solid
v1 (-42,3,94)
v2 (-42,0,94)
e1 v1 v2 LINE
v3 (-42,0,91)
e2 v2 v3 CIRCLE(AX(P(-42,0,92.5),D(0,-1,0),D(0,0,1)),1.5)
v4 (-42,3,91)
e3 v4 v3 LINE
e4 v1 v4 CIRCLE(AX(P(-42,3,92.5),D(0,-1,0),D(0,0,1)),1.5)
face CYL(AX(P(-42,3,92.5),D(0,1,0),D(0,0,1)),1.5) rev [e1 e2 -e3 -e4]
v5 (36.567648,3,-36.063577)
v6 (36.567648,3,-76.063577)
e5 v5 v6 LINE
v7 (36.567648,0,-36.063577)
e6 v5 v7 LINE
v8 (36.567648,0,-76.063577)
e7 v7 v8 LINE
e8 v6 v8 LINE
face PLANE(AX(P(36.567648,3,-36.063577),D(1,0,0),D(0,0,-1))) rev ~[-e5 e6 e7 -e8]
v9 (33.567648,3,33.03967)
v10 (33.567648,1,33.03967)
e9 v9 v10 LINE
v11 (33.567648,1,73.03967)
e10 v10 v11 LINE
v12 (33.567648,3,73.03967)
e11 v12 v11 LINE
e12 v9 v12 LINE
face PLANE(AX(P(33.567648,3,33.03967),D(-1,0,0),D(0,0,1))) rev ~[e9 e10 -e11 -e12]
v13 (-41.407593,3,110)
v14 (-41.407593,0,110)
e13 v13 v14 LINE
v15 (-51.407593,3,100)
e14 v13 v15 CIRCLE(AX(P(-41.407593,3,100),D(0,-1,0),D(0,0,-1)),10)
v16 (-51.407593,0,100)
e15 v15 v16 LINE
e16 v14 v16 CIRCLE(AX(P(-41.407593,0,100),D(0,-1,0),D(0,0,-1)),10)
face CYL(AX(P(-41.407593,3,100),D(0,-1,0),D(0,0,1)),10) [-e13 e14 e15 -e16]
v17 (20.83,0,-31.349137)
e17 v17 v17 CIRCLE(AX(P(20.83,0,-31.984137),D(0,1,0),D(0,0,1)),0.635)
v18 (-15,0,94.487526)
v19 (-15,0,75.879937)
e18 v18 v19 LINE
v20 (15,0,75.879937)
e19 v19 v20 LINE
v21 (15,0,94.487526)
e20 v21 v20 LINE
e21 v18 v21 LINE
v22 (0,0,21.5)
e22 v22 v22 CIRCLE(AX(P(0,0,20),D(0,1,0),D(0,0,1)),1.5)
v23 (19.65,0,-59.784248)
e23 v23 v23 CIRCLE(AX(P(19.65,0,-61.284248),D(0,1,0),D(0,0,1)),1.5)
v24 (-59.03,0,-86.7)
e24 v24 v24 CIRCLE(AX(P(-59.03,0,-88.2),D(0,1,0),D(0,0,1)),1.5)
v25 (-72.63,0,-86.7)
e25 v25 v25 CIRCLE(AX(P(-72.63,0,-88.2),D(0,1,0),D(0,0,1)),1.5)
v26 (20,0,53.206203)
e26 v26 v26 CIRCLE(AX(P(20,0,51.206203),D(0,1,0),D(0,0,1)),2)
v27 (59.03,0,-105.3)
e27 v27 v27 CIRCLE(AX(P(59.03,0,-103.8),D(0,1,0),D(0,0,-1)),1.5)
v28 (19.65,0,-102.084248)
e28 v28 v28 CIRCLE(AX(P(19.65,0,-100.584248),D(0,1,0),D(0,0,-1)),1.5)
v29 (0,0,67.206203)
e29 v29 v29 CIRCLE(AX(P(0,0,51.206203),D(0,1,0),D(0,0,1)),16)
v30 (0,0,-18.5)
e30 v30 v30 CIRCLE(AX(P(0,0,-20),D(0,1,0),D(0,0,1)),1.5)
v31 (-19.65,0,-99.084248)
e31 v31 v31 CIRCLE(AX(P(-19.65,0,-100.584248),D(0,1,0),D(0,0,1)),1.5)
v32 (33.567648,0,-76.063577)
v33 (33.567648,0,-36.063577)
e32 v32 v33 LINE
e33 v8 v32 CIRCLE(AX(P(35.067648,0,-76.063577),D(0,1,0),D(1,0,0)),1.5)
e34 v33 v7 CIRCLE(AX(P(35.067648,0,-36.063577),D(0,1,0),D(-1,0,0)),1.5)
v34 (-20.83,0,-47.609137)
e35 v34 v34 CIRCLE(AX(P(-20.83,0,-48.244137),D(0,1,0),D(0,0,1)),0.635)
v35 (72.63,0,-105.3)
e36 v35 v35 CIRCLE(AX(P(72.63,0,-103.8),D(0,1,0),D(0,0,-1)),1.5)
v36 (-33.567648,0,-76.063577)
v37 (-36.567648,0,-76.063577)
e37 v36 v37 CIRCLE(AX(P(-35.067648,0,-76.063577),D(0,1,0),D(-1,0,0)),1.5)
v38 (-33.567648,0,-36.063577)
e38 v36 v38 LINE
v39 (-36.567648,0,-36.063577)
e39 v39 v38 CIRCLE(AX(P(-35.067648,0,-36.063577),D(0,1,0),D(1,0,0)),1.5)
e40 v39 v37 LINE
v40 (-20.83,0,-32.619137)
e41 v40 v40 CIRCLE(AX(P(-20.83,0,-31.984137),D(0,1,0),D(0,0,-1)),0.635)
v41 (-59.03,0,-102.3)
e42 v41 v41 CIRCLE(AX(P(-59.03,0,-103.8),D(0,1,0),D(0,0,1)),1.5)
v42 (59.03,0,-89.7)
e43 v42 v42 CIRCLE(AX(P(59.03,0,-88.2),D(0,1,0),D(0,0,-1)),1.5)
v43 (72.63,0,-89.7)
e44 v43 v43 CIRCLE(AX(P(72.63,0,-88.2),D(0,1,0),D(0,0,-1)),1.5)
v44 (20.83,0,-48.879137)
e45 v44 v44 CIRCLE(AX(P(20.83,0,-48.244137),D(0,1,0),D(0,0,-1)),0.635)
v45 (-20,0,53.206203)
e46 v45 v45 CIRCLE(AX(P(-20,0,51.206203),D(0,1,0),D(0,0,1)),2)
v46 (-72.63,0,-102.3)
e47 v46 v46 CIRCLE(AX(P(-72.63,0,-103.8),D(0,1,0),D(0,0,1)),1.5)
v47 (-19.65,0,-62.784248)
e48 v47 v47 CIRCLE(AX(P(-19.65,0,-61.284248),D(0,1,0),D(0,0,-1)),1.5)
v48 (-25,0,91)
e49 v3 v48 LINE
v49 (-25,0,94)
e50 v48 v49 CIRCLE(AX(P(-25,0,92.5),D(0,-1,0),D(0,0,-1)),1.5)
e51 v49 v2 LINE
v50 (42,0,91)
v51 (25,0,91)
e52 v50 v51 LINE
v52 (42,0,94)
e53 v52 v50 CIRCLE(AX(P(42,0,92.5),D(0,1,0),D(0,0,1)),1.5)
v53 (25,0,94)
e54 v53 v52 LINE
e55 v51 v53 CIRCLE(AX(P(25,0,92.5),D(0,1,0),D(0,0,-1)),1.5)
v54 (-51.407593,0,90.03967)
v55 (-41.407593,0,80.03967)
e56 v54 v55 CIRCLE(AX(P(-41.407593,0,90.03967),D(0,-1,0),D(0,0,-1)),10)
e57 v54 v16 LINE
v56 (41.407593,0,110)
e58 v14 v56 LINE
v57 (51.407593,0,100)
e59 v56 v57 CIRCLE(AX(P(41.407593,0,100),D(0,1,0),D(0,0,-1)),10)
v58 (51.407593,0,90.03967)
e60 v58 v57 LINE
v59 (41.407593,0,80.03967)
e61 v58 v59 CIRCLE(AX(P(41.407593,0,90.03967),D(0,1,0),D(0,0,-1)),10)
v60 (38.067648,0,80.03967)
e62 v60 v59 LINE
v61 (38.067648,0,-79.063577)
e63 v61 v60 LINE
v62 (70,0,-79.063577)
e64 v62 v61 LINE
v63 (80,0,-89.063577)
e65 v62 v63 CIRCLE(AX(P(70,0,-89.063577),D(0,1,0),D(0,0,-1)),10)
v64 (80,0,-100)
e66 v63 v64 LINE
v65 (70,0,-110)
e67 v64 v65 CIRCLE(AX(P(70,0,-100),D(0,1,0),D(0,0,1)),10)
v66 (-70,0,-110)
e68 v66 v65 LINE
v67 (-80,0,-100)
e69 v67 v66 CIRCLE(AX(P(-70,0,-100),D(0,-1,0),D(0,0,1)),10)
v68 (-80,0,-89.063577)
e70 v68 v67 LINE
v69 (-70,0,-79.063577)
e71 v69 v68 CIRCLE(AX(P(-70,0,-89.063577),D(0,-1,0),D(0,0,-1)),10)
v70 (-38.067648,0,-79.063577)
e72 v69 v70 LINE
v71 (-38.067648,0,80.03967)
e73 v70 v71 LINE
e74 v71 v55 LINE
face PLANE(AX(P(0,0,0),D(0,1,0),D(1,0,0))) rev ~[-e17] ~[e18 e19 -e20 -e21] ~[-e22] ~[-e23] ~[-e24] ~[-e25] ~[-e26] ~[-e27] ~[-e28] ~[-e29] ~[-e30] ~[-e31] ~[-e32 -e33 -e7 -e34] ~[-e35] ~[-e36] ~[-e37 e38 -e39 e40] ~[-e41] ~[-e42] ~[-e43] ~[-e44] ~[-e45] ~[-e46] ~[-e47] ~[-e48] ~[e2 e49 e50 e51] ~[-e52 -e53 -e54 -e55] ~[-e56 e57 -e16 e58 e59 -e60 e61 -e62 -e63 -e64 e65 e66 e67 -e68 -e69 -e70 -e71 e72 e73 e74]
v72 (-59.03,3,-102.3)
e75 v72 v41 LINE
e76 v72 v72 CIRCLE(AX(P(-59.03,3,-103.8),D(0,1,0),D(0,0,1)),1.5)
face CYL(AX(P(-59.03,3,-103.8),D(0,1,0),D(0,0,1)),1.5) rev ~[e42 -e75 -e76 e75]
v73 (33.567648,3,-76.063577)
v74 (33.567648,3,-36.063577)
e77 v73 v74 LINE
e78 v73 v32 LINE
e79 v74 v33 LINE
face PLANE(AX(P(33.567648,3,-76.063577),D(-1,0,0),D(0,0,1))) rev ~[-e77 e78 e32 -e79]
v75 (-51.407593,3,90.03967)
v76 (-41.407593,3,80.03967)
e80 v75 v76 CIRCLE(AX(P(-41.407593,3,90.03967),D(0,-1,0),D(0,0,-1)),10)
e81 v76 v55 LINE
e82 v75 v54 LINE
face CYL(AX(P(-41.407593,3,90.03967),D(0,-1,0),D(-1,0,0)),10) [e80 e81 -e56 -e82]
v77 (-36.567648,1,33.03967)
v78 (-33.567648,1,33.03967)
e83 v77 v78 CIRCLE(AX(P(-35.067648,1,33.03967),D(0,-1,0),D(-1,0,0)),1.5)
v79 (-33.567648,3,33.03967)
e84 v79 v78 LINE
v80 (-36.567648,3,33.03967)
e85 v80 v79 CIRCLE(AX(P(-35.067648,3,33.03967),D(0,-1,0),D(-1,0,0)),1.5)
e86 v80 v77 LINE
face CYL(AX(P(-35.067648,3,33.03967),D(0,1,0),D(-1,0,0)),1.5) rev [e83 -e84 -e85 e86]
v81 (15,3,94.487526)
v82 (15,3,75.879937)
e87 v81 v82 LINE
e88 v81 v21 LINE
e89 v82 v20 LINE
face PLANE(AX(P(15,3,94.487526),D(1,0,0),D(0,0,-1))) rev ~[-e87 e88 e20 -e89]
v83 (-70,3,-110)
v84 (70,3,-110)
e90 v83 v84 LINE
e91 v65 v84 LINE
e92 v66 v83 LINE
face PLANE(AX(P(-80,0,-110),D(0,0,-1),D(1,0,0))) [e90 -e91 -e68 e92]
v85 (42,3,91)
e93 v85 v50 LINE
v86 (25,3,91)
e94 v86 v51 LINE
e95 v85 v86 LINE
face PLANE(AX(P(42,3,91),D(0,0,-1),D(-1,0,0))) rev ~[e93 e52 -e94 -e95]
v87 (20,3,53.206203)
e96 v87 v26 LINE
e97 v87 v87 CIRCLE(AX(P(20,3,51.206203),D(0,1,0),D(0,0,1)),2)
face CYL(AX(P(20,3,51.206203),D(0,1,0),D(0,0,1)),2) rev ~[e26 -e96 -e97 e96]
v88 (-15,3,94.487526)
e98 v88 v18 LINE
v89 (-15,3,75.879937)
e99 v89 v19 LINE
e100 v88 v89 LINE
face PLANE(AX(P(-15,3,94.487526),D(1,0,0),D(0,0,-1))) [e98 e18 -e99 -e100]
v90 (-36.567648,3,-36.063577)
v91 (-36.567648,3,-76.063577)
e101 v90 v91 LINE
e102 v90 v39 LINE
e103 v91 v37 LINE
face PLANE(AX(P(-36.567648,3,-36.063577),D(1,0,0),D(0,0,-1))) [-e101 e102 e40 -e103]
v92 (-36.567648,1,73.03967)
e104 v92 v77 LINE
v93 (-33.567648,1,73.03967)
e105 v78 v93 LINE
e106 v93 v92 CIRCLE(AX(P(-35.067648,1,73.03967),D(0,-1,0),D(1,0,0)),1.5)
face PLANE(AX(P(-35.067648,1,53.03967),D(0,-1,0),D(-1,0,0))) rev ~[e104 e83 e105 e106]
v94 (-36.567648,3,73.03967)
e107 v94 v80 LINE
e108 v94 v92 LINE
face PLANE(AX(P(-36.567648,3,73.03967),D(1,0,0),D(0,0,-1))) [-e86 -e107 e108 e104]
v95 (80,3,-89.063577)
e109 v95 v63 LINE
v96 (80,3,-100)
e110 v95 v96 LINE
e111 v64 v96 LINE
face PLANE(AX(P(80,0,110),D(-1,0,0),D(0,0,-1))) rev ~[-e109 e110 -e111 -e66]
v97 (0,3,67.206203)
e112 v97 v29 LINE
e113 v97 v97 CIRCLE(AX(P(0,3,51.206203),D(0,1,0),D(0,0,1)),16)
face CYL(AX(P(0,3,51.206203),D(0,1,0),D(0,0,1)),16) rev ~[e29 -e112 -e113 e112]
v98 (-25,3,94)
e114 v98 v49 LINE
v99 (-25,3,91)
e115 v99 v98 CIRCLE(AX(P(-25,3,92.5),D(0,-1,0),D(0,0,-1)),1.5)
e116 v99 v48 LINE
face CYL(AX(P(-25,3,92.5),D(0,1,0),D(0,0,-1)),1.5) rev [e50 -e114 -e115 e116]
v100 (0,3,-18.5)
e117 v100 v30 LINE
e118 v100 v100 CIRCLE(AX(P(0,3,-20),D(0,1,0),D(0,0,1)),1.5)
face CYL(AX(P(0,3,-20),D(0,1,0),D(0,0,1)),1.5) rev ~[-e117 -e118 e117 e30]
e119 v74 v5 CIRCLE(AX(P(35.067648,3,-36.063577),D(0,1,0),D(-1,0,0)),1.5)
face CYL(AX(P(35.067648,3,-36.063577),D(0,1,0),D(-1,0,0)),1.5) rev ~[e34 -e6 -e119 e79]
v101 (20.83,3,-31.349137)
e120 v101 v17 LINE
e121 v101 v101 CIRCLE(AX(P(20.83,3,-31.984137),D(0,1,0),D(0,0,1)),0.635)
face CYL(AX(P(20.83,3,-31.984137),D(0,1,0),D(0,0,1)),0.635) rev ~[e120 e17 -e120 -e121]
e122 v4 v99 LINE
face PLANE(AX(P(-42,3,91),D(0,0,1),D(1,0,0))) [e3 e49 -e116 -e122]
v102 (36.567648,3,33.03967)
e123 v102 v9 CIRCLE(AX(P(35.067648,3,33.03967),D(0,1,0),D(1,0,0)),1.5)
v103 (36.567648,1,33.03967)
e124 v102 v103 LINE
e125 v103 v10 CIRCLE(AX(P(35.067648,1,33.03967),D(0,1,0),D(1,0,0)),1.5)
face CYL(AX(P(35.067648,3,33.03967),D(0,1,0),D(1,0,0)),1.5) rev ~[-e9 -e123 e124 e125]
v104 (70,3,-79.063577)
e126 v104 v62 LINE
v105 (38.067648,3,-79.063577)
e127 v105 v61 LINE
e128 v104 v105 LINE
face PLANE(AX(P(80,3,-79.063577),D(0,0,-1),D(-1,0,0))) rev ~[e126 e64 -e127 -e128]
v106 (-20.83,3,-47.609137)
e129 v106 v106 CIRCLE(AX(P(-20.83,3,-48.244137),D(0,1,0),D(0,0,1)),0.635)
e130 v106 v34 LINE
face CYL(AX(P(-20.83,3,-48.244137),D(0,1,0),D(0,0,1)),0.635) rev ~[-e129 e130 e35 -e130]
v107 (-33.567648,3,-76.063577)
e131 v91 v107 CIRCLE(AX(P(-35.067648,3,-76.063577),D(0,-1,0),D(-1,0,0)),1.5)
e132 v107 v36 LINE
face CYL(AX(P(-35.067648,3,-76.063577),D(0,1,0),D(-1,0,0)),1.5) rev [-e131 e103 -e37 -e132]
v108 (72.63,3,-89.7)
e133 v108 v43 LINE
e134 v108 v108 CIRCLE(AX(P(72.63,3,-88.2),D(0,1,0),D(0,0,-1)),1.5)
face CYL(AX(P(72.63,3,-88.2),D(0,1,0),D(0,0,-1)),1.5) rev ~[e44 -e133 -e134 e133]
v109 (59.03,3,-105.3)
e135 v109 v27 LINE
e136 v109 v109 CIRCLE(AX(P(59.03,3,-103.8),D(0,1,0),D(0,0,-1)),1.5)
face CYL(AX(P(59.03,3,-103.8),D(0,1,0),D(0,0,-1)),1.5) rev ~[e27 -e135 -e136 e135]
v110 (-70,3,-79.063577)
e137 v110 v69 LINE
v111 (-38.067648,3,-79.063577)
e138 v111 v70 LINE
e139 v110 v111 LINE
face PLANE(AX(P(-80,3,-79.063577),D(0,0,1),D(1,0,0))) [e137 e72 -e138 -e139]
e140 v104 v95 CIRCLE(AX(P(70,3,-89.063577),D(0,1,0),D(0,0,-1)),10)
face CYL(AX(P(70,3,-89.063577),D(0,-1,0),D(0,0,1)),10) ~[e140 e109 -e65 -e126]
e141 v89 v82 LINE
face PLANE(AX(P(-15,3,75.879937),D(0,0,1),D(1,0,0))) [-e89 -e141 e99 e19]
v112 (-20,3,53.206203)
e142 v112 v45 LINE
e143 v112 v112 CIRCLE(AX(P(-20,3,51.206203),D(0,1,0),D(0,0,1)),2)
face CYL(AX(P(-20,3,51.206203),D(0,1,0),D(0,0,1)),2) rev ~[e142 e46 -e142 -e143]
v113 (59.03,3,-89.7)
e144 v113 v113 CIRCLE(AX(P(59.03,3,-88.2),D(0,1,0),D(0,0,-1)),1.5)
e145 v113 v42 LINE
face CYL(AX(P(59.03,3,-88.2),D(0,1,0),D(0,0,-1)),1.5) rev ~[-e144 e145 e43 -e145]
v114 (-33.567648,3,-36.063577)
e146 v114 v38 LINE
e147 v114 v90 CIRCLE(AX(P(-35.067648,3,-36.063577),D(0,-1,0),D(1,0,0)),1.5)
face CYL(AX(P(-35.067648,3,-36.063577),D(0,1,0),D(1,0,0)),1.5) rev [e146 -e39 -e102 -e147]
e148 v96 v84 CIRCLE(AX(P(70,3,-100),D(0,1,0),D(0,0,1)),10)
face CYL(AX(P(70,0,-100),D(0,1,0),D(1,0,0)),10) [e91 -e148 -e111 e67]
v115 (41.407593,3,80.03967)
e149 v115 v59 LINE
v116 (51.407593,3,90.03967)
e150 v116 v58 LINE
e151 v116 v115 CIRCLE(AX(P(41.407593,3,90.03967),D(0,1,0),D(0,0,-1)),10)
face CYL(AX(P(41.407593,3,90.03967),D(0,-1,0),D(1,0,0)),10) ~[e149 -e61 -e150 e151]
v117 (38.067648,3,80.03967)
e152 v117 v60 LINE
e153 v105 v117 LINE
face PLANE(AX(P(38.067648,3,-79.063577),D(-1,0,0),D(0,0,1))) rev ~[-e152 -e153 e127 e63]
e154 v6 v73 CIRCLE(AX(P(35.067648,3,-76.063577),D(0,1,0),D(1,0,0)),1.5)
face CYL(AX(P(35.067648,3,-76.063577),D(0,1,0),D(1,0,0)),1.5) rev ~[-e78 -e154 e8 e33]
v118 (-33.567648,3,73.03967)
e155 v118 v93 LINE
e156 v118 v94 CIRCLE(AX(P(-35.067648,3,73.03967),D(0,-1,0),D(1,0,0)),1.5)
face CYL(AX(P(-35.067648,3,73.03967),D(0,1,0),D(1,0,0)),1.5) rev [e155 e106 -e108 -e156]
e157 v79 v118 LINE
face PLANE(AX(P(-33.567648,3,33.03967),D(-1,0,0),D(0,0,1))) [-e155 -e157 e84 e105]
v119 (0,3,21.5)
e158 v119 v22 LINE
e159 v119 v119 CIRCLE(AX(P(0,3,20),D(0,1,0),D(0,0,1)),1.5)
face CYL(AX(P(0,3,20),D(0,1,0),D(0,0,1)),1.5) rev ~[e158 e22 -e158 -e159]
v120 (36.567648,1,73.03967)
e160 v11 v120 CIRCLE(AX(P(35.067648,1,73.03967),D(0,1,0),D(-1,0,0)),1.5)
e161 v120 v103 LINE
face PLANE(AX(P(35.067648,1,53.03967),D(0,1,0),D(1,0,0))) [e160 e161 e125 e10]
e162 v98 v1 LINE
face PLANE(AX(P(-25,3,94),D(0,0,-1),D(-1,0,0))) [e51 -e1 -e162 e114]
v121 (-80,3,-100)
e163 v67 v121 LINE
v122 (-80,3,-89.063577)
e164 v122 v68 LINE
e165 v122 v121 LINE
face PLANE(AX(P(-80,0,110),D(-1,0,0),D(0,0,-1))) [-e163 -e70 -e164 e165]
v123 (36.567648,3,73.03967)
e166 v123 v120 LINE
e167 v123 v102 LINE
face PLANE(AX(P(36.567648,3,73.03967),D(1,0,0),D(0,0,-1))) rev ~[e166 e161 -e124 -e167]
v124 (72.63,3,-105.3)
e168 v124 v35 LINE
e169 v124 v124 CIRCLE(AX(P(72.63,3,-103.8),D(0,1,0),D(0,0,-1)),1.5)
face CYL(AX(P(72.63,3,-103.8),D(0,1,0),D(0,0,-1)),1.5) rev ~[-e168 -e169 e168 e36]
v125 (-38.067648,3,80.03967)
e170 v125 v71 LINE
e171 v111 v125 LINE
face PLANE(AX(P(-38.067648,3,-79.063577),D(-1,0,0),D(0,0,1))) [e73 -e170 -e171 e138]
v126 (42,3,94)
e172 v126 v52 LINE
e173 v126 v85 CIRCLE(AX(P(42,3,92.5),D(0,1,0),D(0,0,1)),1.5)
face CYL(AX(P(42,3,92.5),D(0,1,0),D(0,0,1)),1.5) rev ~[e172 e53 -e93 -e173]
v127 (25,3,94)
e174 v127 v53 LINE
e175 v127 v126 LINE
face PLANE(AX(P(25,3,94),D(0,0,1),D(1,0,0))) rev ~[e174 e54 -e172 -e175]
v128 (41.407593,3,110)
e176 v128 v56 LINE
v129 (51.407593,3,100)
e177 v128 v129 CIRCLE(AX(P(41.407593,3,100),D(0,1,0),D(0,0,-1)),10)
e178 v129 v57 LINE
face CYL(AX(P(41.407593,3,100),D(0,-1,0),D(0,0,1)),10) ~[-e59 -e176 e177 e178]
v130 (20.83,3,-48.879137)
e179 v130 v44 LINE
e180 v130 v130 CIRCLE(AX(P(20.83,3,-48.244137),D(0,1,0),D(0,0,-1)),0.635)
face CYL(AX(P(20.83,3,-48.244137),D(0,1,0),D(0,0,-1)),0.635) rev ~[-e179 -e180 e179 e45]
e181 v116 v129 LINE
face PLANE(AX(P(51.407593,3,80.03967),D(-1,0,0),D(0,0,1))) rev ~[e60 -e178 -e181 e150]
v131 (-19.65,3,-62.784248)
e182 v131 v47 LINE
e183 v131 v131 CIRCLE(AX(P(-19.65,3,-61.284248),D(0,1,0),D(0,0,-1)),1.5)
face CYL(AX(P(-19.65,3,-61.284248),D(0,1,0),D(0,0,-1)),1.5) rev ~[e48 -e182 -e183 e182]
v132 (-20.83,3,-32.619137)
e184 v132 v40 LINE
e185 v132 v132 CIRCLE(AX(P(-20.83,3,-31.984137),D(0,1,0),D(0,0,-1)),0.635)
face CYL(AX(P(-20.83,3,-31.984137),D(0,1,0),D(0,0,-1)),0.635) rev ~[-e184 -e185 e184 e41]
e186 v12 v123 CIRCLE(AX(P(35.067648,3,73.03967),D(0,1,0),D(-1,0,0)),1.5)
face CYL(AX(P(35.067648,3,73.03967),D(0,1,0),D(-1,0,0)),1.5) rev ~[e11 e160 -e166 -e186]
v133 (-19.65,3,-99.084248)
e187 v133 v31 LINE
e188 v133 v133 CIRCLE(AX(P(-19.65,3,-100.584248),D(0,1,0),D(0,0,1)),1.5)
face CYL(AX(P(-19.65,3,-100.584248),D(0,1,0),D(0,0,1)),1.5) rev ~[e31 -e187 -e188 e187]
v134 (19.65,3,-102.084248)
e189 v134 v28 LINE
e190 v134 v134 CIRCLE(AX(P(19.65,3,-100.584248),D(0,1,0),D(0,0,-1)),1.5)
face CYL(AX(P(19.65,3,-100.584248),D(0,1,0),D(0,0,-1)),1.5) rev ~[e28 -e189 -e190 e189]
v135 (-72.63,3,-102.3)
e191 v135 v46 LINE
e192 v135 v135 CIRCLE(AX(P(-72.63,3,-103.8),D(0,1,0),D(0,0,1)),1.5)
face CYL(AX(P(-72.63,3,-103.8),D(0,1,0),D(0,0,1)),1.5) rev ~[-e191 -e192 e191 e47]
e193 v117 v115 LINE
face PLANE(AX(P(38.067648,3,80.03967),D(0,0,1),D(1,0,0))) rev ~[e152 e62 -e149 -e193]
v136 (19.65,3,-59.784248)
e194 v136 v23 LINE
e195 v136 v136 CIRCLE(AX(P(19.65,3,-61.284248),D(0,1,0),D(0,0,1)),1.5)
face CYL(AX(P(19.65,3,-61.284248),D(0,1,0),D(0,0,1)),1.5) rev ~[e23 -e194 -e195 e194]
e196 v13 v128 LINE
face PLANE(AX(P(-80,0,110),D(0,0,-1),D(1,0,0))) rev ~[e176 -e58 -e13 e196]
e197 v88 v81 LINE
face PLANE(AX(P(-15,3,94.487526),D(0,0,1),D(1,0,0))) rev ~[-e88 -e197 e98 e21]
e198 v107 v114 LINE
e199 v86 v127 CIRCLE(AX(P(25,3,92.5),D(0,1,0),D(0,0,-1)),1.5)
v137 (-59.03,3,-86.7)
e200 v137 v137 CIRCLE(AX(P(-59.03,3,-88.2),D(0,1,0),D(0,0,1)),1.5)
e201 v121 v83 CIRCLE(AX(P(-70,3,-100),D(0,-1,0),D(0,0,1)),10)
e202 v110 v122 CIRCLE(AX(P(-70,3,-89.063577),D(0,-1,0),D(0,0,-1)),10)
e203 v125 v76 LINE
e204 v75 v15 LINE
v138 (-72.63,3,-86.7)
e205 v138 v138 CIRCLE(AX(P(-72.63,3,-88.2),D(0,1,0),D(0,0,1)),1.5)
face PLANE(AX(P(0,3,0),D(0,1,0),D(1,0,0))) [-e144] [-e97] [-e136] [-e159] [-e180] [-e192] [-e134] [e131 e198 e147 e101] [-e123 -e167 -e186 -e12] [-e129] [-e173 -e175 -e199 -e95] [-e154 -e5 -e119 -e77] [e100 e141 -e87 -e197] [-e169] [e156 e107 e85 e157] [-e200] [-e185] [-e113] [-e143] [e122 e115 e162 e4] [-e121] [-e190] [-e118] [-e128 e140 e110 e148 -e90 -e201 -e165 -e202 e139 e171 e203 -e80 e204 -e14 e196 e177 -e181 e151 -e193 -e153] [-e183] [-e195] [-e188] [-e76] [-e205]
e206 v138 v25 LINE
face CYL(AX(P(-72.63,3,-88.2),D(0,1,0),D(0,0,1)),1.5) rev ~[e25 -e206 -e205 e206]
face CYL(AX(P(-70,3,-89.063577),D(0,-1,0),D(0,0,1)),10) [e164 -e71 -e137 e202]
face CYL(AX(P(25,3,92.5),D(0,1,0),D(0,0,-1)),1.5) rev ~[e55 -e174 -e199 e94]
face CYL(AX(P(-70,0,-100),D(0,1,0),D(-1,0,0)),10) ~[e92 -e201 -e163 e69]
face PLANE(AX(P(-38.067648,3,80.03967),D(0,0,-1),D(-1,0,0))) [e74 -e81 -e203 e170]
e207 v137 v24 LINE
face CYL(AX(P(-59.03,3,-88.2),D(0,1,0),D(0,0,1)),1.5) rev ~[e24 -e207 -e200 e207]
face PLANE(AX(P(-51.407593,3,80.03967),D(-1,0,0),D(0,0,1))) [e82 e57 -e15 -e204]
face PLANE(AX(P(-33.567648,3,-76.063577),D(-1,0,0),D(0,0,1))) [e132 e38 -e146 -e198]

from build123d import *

# Parameters (mm, degrees)
SKETCH1_W           = 160
SKETCH1_H           = 220
BOSS_EXTRUDE1_DEPTH = 3
SKETCH3_R           = 1.5
CUT_EXTRUDE1_DEPTH  = 3
SKETCH4_R           = 1.5
CUT_EXTRUDE2_DEPTH  = 3
SKETCH5_R           = 1.5
CUT_EXTRUDE3_DEPTH  = 3
SKETCH6_R           = 0.635
CUT_EXTRUDE4_DEPTH  = 3
SKETCH7_W           = 30
SKETCH7_H           = 18.607589123
CUT_EXTRUDE5_DEPTH  = 3
SKETCH8_W           = 22
SKETCH8_H           = 179.95337022
CUT_EXTRUDE6_DEPTH  = 3
SKETCH10_R          = 2
CUT_EXTRUDE7_DEPTH  = 3
CUT_EXTRUDE8_DEPTH  = 3
FILLET1_R           = 10
FILLET2_R           = 10
FILLET3_R           = 10
CUT_EXTRUDE9_DEPTH  = 10
SKETCH13_R          = 16
CUT_EXTRUDE10_DEPTH = 10
CUT_EXTRUDE11_DEPTH = 2


with BuildPart() as part:
    # Sketch1 → Boss-Extrude1 (new body)
    with BuildSketch(Plane(origin=(0, 0, 0), x_dir=(1, 0, 0), z_dir=(0, 1, 0))):
        Rectangle(SKETCH1_W, SKETCH1_H)
    extrude(amount=BOSS_EXTRUDE1_DEPTH)

    # Sketch3 → Cut-Extrude1 (cut)
    with BuildSketch(Plane(origin=(0, 3, 0), x_dir=(1, 0, 0), z_dir=(0, 1, 0))):
        with Locations(Location((-59.03, 88.2, 0), (0, 0, 270))):
            Circle(SKETCH3_R)
        with Locations(Location((-72.63, 88.2, 0), (0, 0, 270))):
            Circle(SKETCH3_R)
        with Locations(Location((-59.03, 103.8, 0), (0, 0, 270))):
            Circle(SKETCH3_R)
        with Locations(Location((-72.63, 103.8, 0), (0, 0, 270))):
            Circle(SKETCH3_R)
        with Locations(Location((72.63, 103.8, 0), (0, 0, 90))):
            Circle(SKETCH3_R)
        with Locations(Location((59.03, 103.8, 0), (0, 0, 90))):
            Circle(SKETCH3_R)
        with Locations(Location((72.63, 88.2, 0), (0, 0, 90))):
            Circle(SKETCH3_R)
        with Locations(Location((59.03, 88.2, 0), (0, 0, 90))):
            Circle(SKETCH3_R)
    extrude(amount=-CUT_EXTRUDE1_DEPTH, mode=Mode.SUBTRACT)

    # Sketch4 → Cut-Extrude2 (cut)
    with BuildSketch(Plane(origin=(0, 3, 0), x_dir=(1, 0, 0), z_dir=(0, 1, 0))):
        with Locations(Location((-19.65, 100.584248084, 0), (0, 0, 270))):
            Circle(SKETCH4_R)
        with Locations(Location((19.65, 100.584248084, 0), (0, 0, 90))):
            Circle(SKETCH4_R)
        with Locations(Location((19.65, 61.284248084, 0), (0, 0, 270))):
            Circle(SKETCH4_R)
        with Locations(Location((-19.65, 61.284248084, 0), (0, 0, 90))):
            Circle(SKETCH4_R)
    extrude(amount=-CUT_EXTRUDE2_DEPTH, mode=Mode.SUBTRACT)

    # Sketch5 → Cut-Extrude3 (cut)
    with BuildSketch(Plane(origin=(0, 3, 0), x_dir=(1, 0, 0), z_dir=(0, 1, 0))):
        with Locations(Location((0, 20, 0), (0, 0, 270))):
            Circle(SKETCH5_R)
        with Locations(Location((0, -20, 0), (0, 0, 270))):
            Circle(SKETCH5_R)
    extrude(amount=-CUT_EXTRUDE3_DEPTH, mode=Mode.SUBTRACT)

    # Sketch6 → Cut-Extrude4 (cut)
    with BuildSketch(Plane(origin=(0, 3, 0), x_dir=(1, 0, 0), z_dir=(0, 1, 0))):
        with Locations(Location((-20.83, 48.244137144, 0), (0, 0, 270))):
            Circle(SKETCH6_R)
        with Locations(Location((20.83, 48.244137144, 0), (0, 0, 90))):
            Circle(SKETCH6_R)
        with Locations(Location((20.83, 31.984137144, 0), (0, 0, 270))):
            Circle(SKETCH6_R)
        with Locations(Location((-20.83, 31.984137144, 0), (0, 0, 90))):
            Circle(SKETCH6_R)
    extrude(amount=-CUT_EXTRUDE4_DEPTH, mode=Mode.SUBTRACT)

    # Sketch7 → Cut-Extrude5 (cut)
    with BuildSketch(Plane(origin=(0, 3, 0), x_dir=(1, 0, 0), z_dir=(0, 1, 0))):
        with BuildLine():
            Line((-42, -91), (-25, -91))
            ThreePointArc((-25, -91), (-23.5, -92.5), (-25, -94))
            Line((-25, -94), (-42, -94))
            ThreePointArc((-42, -94), (-43.5, -92.5), (-42, -91))
        make_face()
        with Locations((0, -85.183731289)):
            Rectangle(SKETCH7_W, SKETCH7_H)
        with BuildLine():
            Line((42, -91), (25, -91))
            ThreePointArc((25, -91), (23.5, -92.5), (25, -94))
            Line((25, -94), (42, -94))
            ThreePointArc((42, -94), (43.5, -92.5), (42, -91))
        make_face()
    extrude(amount=-CUT_EXTRUDE5_DEPTH, mode=Mode.SUBTRACT)

    # Sketch8 → Cut-Extrude6 (cut)
    with BuildSketch(Plane(origin=(0, 3, 0), x_dir=(1, 0, 0), z_dir=(0, 1, 0))):
        with Locations((69, -20.02331489)):
            Rectangle(SKETCH8_W, SKETCH8_H)
        with Locations((-69, -20.02331489)):
            Rectangle(SKETCH8_W, SKETCH8_H)
    extrude(amount=-CUT_EXTRUDE6_DEPTH, mode=Mode.SUBTRACT)

    # Sketch10 → Cut-Extrude7 (cut)
    with BuildSketch(Plane(origin=(0, 3, 0), x_dir=(1, 0, 0), z_dir=(0, 1, 0))):
        with Locations(Location((-20, -51.206202612, 0), (0, 0, 270))):
            Circle(SKETCH10_R)
        with Locations(Location((20, -51.206202612, 0), (0, 0, 270))):
            Circle(SKETCH10_R)
    extrude(amount=-CUT_EXTRUDE7_DEPTH, mode=Mode.SUBTRACT)

    # Sketch11 → Cut-Extrude8 (cut)
    with BuildSketch(Plane(origin=(0, 3, 0), x_dir=(1, 0, 0), z_dir=(0, 1, 0))):
        Polygon((-80, 79.063576574), (-38.06764798, 79.063576574), (-38.06764798, -80.039670112), (-51.407592999, -80.039670112), (-51.407592999, -110), (-58, -110), (-58, 69.95337022), (-80, 69.95337022), align=None)
        Polygon((80, 69.95337022), (80, 79.063576574), (38.06764798, 79.063576574), (38.06764798, -80.039670112), (51.407592999, -80.039670112), (51.407592999, -110), (58, -110), (58, 69.95337022), align=None)
    extrude(amount=-CUT_EXTRUDE8_DEPTH, mode=Mode.SUBTRACT)

    # Fillet1
    fillet1_edges = [part.edges().sort_by_distance(p)[0] for p in [
        (-51.407592999, 1.5, 110),
    ]]
    fillet(fillet1_edges, radius=FILLET1_R)

    # Fillet2
    fillet2_edges = [part.edges().sort_by_distance(p)[0] for p in [
        (-80, 1.5, -79.063576574),
        (-51.407592999, 1.5, 80.039670112),
        (80, 1.5, -79.063576574),
        (-80, 1.5, -110),
        (80, 1.5, -110),
    ]]
    fillet(fillet2_edges, radius=FILLET2_R)

    # Fillet3
    fillet3_edges = [part.edges().sort_by_distance(p)[0] for p in [
        (51.407592999, 1.5, 110),
        (51.407592999, 1.5, 80.039670112),
    ]]
    fillet(fillet3_edges, radius=FILLET3_R)

    # Sketch12 → Cut-Extrude9 (cut)
    with BuildSketch(Plane(origin=(0, 3, 0), x_dir=(1, 0, 0), z_dir=(0, 1, 0))):
        with BuildLine():
            Line((-36.56764798, 36.063576574), (-36.56764798, 76.063576574))
            ThreePointArc((-36.56764798, 76.063576574), (-35.06764798, 77.563576574), (-33.56764798, 76.063576574))
            Line((-33.56764798, 76.063576574), (-33.56764798, 36.063576574))
            ThreePointArc((-33.56764798, 36.063576574), (-35.06764798, 34.563576574), (-36.56764798, 36.063576574))
        make_face()
        with BuildLine():
            Line((36.56764798, 36.063576574), (36.56764798, 76.063576574))
            ThreePointArc((36.56764798, 76.063576574), (35.06764798, 77.563576574), (33.56764798, 76.063576574))
            Line((33.56764798, 76.063576574), (33.56764798, 36.063576574))
            ThreePointArc((33.56764798, 36.063576574), (35.06764798, 34.563576574), (36.56764798, 36.063576574))
        make_face()
    extrude(amount=-CUT_EXTRUDE9_DEPTH, mode=Mode.SUBTRACT)

    # Sketch13 → Cut-Extrude10 (cut)
    with BuildSketch(Plane(origin=(0, 3, 0), x_dir=(1, 0, 0), z_dir=(0, 1, 0))):
        with Locations(Location((0, -51.206202612, 0), (0, 0, 270))):
            Circle(SKETCH13_R)
    extrude(amount=-CUT_EXTRUDE10_DEPTH, mode=Mode.SUBTRACT)

    # Sketch14 → Cut-Extrude11 (cut)
    with BuildSketch(Plane(origin=(0, 3, 0), x_dir=(1, 0, 0), z_dir=(0, 1, 0))):
        with BuildLine():
            Line((-36.56764798, -73.039670112), (-36.56764798, -33.039670112))
            ThreePointArc((-36.56764798, -33.039670112), (-35.06764798, -31.539670112), (-33.56764798, -33.039670112))
            Line((-33.56764798, -33.039670112), (-33.56764798, -73.039670112))
            ThreePointArc((-33.56764798, -73.039670112), (-35.06764798, -74.539670112), (-36.56764798, -73.039670112))
        make_face()
        with BuildLine():
            Line((36.56764798, -73.039670112), (36.56764798, -33.039670112))
            ThreePointArc((36.56764798, -33.039670112), (35.06764798, -31.539670112), (33.56764798, -33.039670112))
            Line((33.56764798, -33.039670112), (33.56764798, -73.039670112))
            ThreePointArc((33.56764798, -73.039670112), (35.06764798, -74.539670112), (36.56764798, -73.039670112))
        make_face()
    extrude(amount=-CUT_EXTRUDE11_DEPTH, mode=Mode.SUBTRACT)


solid = part.part
